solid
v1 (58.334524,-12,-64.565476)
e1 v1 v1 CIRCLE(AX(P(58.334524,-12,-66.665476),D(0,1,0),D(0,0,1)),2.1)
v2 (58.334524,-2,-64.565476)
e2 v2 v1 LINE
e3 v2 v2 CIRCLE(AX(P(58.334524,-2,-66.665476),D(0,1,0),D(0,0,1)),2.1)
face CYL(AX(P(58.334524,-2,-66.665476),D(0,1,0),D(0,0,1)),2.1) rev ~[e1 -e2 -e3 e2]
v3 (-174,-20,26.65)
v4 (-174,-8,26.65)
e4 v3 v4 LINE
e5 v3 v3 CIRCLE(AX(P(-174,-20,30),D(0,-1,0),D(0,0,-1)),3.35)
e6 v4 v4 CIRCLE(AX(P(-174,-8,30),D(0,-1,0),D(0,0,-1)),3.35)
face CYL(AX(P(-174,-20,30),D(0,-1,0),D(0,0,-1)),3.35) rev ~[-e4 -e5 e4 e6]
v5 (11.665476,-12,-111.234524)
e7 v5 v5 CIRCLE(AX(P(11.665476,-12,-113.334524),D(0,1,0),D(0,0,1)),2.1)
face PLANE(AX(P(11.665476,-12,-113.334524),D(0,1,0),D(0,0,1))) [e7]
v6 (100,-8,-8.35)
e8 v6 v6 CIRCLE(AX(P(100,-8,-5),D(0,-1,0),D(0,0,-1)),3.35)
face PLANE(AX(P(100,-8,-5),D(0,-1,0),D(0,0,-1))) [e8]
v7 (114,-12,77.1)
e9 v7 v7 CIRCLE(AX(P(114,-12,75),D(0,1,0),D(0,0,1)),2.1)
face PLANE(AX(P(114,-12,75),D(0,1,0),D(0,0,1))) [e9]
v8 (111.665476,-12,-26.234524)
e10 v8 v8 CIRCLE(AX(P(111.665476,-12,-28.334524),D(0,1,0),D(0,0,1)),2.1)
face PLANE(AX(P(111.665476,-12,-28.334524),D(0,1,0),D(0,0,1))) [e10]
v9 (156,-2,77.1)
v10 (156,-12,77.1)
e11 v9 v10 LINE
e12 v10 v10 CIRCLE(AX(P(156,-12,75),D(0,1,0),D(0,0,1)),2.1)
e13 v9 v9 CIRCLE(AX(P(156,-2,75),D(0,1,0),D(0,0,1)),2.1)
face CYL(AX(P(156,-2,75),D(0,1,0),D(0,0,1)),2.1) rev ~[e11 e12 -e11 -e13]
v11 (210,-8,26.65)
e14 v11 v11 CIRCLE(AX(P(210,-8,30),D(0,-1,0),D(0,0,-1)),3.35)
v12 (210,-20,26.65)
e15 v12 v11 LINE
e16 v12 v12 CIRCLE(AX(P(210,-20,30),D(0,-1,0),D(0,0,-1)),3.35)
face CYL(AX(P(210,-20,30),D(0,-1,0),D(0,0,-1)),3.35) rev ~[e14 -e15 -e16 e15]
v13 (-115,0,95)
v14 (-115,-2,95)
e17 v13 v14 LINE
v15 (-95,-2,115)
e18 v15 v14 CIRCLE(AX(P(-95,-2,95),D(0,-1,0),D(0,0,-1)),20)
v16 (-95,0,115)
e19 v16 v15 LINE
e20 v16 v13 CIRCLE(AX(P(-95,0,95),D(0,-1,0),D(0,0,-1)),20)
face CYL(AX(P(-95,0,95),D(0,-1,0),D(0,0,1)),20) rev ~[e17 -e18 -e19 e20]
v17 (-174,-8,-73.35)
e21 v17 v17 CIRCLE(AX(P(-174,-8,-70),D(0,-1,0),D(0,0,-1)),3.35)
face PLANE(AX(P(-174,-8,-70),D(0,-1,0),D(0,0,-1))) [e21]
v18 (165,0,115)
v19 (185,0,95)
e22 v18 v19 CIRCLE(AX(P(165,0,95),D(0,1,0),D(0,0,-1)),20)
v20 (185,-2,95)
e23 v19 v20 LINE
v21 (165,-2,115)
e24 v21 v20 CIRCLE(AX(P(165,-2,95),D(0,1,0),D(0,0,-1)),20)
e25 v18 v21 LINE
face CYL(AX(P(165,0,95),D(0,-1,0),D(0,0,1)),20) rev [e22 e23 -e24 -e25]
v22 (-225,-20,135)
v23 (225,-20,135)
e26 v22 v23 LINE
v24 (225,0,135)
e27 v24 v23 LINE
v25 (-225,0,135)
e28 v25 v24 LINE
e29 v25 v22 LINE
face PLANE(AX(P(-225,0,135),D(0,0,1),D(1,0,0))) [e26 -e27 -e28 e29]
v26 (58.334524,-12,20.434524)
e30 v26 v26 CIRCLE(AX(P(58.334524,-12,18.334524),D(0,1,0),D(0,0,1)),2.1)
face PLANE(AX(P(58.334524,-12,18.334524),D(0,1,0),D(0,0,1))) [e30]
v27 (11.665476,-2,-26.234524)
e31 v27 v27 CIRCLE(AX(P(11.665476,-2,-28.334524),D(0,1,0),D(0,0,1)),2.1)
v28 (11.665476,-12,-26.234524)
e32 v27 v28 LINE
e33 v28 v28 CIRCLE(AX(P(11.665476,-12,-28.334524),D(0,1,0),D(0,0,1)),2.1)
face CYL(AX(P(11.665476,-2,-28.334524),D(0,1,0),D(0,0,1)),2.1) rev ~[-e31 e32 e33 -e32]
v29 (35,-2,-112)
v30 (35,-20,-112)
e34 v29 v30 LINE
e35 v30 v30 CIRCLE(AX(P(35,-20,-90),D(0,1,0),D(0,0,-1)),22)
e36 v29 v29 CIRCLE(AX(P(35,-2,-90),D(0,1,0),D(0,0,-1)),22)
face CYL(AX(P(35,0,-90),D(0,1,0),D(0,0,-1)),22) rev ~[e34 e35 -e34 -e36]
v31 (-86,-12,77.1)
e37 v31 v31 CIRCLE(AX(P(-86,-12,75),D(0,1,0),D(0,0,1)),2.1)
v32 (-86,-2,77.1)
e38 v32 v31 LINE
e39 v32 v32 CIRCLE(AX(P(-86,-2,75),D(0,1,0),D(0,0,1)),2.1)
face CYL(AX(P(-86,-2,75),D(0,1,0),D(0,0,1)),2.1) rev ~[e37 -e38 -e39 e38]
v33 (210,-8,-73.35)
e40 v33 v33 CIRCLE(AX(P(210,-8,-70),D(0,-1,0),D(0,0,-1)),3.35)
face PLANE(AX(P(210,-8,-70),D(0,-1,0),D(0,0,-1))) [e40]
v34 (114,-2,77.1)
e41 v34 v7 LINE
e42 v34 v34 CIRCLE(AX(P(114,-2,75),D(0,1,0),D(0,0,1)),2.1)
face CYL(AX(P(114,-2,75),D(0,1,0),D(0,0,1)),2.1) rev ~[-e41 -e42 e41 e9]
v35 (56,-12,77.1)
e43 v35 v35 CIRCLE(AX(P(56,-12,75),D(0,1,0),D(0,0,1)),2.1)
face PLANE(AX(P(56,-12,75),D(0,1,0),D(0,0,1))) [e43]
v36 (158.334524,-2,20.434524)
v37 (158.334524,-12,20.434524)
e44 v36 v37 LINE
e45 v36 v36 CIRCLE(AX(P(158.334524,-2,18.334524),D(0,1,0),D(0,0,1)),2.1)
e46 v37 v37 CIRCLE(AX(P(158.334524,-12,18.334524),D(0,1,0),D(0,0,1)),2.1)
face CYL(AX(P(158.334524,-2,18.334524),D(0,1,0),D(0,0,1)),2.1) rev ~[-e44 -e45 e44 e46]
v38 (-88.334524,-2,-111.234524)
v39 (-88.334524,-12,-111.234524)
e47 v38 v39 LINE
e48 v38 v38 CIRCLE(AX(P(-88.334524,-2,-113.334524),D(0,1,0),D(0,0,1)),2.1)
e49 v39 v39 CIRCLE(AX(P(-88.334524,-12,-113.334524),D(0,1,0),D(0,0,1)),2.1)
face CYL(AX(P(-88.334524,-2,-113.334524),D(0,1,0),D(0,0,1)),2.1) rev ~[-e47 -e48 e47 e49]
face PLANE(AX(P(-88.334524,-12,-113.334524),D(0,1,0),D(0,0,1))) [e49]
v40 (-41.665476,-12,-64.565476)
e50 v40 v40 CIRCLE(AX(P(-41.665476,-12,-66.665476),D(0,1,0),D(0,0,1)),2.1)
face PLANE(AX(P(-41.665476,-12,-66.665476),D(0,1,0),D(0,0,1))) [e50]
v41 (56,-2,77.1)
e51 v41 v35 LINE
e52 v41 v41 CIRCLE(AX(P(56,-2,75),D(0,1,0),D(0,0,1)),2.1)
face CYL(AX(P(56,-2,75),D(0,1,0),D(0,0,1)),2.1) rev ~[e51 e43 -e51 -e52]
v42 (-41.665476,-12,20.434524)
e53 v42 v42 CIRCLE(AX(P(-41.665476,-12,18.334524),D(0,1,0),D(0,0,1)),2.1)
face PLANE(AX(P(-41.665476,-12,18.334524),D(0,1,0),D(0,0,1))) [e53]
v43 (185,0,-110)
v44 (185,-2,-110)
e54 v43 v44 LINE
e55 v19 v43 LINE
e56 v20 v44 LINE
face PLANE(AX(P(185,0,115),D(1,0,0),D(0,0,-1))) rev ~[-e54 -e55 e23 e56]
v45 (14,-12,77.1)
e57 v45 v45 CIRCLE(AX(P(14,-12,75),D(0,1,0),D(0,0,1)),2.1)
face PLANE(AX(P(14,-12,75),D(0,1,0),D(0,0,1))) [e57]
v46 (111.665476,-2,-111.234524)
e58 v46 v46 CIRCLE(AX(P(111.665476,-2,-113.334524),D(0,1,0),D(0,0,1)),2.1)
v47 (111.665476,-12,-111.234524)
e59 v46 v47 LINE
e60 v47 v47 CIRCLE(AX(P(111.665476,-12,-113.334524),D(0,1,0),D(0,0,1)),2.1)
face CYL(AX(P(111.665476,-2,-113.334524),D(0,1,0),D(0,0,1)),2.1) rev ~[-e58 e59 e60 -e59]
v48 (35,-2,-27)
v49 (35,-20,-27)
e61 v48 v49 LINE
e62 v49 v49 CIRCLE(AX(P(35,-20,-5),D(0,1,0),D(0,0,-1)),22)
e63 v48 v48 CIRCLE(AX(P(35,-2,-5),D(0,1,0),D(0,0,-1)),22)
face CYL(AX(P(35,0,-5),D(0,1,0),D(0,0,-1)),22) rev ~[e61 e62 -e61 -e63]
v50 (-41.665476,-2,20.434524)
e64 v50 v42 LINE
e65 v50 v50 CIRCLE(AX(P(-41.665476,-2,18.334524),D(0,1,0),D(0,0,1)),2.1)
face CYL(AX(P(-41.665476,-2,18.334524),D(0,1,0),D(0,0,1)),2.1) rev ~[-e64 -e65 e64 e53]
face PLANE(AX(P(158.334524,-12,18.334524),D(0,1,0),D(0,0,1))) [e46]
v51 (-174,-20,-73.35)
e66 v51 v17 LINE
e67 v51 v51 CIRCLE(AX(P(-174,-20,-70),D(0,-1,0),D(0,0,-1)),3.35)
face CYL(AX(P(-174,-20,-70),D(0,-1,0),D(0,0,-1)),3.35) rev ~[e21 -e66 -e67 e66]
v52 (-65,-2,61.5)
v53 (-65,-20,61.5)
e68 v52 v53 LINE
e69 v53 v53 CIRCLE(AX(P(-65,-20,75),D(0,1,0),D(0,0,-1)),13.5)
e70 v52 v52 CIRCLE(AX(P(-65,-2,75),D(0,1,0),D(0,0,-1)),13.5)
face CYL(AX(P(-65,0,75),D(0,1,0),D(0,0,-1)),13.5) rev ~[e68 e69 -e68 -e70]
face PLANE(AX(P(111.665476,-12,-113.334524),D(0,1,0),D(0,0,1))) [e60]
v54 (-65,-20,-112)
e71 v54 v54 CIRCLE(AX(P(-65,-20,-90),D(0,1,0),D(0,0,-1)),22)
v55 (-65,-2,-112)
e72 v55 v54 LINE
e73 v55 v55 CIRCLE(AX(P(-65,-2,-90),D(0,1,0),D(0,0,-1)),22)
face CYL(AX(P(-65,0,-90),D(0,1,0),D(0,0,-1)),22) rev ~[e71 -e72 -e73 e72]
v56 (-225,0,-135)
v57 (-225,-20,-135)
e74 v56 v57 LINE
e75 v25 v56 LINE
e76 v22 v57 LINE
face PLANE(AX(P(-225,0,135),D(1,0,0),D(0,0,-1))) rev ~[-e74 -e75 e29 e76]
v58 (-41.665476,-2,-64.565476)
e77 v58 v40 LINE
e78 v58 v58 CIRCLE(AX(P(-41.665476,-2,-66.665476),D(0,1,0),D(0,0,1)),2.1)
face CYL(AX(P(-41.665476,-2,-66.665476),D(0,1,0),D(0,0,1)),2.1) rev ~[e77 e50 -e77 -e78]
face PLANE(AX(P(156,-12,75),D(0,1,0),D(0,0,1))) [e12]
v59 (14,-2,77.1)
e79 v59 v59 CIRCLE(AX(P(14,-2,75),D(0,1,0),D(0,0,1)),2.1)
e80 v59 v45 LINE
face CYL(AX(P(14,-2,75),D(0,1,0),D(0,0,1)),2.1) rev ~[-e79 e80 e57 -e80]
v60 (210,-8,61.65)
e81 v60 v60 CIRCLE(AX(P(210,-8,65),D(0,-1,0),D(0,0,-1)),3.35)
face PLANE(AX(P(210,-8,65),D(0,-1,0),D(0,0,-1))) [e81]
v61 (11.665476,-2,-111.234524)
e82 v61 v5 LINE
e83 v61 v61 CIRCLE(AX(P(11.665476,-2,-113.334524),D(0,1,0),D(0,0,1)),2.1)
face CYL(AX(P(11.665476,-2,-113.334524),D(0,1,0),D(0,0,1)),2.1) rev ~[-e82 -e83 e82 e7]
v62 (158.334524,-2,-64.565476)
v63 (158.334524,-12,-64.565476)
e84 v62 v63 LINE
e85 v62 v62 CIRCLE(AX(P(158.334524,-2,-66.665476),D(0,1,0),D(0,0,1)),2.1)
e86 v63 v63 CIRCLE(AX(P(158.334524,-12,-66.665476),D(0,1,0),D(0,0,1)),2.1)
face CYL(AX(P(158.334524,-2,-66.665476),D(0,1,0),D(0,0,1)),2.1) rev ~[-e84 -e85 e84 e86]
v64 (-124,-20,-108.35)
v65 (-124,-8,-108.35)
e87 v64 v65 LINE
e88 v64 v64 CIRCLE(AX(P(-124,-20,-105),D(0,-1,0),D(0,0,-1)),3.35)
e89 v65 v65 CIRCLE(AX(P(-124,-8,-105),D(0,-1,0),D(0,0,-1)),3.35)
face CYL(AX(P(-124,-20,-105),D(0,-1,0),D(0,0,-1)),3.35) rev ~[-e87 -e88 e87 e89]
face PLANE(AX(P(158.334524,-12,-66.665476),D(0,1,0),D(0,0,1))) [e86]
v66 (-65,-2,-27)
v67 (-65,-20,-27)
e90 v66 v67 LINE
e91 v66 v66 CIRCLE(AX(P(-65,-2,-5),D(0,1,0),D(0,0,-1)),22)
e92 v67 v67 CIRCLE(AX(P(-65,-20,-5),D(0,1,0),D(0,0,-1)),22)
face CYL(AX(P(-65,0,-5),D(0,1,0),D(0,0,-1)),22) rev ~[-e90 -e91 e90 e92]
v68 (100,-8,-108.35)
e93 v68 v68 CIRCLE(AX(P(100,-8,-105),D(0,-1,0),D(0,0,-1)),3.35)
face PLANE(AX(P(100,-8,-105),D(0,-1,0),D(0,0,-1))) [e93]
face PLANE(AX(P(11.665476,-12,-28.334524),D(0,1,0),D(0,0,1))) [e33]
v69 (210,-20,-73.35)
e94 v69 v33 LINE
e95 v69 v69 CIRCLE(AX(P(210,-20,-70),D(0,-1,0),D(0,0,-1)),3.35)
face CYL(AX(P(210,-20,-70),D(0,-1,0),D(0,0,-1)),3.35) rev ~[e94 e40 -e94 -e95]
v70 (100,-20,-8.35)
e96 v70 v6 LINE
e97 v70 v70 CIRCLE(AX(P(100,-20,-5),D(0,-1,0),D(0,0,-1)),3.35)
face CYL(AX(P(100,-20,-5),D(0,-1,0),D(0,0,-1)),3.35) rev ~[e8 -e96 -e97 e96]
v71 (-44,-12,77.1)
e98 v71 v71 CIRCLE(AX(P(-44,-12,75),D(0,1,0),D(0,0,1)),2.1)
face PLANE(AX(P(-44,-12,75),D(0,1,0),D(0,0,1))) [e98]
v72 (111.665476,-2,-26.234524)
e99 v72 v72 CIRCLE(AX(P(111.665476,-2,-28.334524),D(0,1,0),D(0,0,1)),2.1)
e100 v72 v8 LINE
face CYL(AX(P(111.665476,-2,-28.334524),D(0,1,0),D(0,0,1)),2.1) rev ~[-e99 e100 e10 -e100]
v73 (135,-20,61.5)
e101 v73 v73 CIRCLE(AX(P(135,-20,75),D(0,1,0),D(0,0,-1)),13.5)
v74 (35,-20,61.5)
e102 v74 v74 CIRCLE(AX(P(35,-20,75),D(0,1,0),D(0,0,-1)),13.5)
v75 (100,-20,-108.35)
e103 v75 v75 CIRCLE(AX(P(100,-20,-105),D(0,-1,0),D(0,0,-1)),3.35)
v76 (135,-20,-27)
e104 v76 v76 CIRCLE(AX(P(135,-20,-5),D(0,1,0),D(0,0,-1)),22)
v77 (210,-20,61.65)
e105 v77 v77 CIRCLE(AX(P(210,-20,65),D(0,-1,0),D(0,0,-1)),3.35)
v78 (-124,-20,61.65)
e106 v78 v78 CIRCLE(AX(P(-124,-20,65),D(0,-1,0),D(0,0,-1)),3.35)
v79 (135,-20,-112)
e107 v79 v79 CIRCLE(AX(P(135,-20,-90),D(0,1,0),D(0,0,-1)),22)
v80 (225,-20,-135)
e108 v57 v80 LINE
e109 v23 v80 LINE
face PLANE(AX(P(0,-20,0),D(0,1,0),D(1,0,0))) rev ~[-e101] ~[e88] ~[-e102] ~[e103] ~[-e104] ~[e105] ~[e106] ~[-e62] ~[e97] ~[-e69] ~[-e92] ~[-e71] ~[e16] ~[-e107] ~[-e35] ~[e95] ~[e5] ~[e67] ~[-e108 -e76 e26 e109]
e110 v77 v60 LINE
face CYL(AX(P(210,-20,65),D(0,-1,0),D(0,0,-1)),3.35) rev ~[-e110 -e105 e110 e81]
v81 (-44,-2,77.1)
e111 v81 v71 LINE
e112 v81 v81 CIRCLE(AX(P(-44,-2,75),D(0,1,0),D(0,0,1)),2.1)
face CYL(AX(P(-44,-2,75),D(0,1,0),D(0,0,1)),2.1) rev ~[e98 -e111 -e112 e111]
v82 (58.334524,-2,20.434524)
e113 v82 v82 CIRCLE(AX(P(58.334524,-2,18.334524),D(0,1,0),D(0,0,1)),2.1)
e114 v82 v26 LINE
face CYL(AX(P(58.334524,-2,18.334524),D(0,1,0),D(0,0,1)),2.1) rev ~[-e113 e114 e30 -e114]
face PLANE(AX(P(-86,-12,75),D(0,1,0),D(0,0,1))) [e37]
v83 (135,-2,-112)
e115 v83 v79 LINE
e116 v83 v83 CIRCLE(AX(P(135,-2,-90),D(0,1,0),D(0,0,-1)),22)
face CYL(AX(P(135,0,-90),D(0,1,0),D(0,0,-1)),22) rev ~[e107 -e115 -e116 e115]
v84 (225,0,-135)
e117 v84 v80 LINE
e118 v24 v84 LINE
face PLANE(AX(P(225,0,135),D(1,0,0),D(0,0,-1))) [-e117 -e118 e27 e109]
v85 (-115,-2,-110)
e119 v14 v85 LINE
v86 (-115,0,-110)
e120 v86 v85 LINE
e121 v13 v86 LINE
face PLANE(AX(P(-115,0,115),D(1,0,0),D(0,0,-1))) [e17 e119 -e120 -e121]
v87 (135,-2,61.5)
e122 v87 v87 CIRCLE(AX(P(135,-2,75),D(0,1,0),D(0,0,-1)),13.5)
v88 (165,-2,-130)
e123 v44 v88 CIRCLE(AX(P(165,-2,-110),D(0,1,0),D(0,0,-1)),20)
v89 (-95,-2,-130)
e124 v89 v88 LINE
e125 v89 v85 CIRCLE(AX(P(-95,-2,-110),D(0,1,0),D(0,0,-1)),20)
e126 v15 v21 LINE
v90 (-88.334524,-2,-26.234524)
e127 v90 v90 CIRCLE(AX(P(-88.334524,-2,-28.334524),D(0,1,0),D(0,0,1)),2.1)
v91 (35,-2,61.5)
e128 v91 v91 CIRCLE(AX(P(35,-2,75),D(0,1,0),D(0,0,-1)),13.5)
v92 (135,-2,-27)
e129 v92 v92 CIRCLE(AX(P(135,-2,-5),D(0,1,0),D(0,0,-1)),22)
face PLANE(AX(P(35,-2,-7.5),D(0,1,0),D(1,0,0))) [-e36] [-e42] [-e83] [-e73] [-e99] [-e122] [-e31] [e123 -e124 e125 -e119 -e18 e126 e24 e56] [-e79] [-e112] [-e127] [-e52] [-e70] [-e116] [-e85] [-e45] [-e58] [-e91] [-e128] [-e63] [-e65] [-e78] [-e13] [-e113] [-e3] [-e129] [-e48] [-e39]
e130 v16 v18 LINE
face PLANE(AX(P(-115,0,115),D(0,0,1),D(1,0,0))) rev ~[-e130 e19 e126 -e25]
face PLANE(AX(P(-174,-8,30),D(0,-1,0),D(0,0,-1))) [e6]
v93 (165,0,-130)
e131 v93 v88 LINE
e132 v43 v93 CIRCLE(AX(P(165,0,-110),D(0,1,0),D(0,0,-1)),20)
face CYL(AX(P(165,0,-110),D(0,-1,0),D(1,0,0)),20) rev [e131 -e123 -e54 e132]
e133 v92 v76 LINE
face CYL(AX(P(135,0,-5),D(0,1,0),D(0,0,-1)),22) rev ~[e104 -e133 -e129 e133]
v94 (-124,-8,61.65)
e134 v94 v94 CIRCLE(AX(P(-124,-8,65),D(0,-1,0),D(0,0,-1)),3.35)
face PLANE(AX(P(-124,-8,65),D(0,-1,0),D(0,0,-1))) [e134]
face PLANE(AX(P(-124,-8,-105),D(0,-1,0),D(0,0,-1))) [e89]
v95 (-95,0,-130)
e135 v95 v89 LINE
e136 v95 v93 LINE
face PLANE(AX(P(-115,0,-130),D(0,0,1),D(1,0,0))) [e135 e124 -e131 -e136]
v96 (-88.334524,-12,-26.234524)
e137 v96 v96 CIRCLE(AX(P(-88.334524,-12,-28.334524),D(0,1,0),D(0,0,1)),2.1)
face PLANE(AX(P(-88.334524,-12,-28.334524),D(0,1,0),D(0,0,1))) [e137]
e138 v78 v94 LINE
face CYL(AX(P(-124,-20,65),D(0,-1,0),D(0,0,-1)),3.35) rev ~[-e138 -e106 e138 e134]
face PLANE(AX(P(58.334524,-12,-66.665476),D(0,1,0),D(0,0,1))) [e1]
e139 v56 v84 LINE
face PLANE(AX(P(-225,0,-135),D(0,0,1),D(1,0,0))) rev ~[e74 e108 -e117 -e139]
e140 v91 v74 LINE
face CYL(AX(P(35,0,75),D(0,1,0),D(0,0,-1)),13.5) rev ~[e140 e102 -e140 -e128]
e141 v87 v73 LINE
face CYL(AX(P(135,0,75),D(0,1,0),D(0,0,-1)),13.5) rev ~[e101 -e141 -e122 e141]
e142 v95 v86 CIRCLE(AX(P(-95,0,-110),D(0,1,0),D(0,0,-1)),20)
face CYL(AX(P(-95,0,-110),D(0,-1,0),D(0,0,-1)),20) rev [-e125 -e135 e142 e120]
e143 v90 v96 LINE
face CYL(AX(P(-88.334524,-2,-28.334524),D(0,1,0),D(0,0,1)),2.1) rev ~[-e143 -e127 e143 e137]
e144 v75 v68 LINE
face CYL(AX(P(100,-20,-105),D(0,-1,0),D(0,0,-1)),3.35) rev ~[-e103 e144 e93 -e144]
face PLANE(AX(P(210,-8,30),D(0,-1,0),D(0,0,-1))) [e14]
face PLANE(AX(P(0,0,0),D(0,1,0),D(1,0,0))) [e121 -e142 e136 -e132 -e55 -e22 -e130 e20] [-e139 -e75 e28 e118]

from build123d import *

# Parameters (mm, degrees)
SKETCH_1_W          = 450
SKETCH_1_H          = 270
EXTRUDE_1_DEPTH     = 20
SKETCH_1_3_W        = 300
SKETCH_1_3_H        = 245
CUT_EXTRUDE_1_DEPTH = 2
CUT_EXTRUDE_2_REACH = 265.154
SKETCH_1_4_R        = 22
SKETCH_1_4_R_2      = 13.5
FILLET_1_R          = 20
SKETCH_3_R          = 2.1
CUT_EXTRUDE_3_DEPTH = 10
SKETCH_4_R          = 3.35
CUT_EXTRUDE_4_DEPTH = 12


with BuildPart() as part:
    # 草图1 → 凸台-拉伸1 (new body)
    with BuildSketch(Plane(origin=(0, 0, 0), x_dir=(1, 0, 0), z_dir=(0, 1, 0))):
        Rectangle(SKETCH_1_W, SKETCH_1_H)
    extrude(amount=-EXTRUDE_1_DEPTH)

    # 草图1<3> → 切除-拉伸1 (cut)
    with BuildSketch(Plane(origin=(0, 0, 0), x_dir=(1, 0, 0), z_dir=(0, 1, 0))):
        with Locations((35, 7.5)):
            Rectangle(SKETCH_1_3_W, SKETCH_1_3_H)
    extrude(amount=-CUT_EXTRUDE_1_DEPTH, mode=Mode.SUBTRACT)

    # 草图1<4> → 切除-拉伸2 (cut, up to next)
    with BuildSketch(Plane(origin=(0, 0, 0), x_dir=(1, 0, 0), z_dir=(0, 1, 0)), mode=Mode.PRIVATE) as cut_extrude_2_sk1:
        with Locations((-65, 90)):
            Circle(SKETCH_1_4_R)
    cut_extrude_2_tool1 = extrude(cut_extrude_2_sk1.sketch, amount=-CUT_EXTRUDE_2_REACH, mode=Mode.PRIVATE) & part.part
    # 草图1<4> → 切除-拉伸2 (cut, up to next)
    with BuildSketch(Plane(origin=(0, 0, 0), x_dir=(1, 0, 0), z_dir=(0, 1, 0)), mode=Mode.PRIVATE) as cut_extrude_2_sk2:
        with Locations((35, 90)):
            Circle(SKETCH_1_4_R)
    cut_extrude_2_tool2 = extrude(cut_extrude_2_sk2.sketch, amount=-CUT_EXTRUDE_2_REACH, mode=Mode.PRIVATE) & part.part
    # 草图1<4> → 切除-拉伸2 (cut, up to next)
    with BuildSketch(Plane(origin=(0, 0, 0), x_dir=(1, 0, 0), z_dir=(0, 1, 0)), mode=Mode.PRIVATE) as cut_extrude_2_sk3:
        with Locations((135, 90)):
            Circle(SKETCH_1_4_R)
    cut_extrude_2_tool3 = extrude(cut_extrude_2_sk3.sketch, amount=-CUT_EXTRUDE_2_REACH, mode=Mode.PRIVATE) & part.part
    # 草图1<4> → 切除-拉伸2 (cut, up to next)
    with BuildSketch(Plane(origin=(0, 0, 0), x_dir=(1, 0, 0), z_dir=(0, 1, 0)), mode=Mode.PRIVATE) as cut_extrude_2_sk4:
        with Locations((135, 5)):
            Circle(SKETCH_1_4_R)
    cut_extrude_2_tool4 = extrude(cut_extrude_2_sk4.sketch, amount=-CUT_EXTRUDE_2_REACH, mode=Mode.PRIVATE) & part.part
    # 草图1<4> → 切除-拉伸2 (cut, up to next)
    with BuildSketch(Plane(origin=(0, 0, 0), x_dir=(1, 0, 0), z_dir=(0, 1, 0)), mode=Mode.PRIVATE) as cut_extrude_2_sk5:
        with Locations((35, 5)):
            Circle(SKETCH_1_4_R)
    cut_extrude_2_tool5 = extrude(cut_extrude_2_sk5.sketch, amount=-CUT_EXTRUDE_2_REACH, mode=Mode.PRIVATE) & part.part
    # 草图1<4> → 切除-拉伸2 (cut, up to next)
    with BuildSketch(Plane(origin=(0, 0, 0), x_dir=(1, 0, 0), z_dir=(0, 1, 0)), mode=Mode.PRIVATE) as cut_extrude_2_sk6:
        with Locations((-65, 5)):
            Circle(SKETCH_1_4_R)
    cut_extrude_2_tool6 = extrude(cut_extrude_2_sk6.sketch, amount=-CUT_EXTRUDE_2_REACH, mode=Mode.PRIVATE) & part.part
    # 草图1<4> → 切除-拉伸2 (cut, up to next)
    with BuildSketch(Plane(origin=(0, 0, 0), x_dir=(1, 0, 0), z_dir=(0, 1, 0)), mode=Mode.PRIVATE) as cut_extrude_2_sk7:
        with Locations((-65, -75)):
            Circle(SKETCH_1_4_R_2)
    cut_extrude_2_tool7 = extrude(cut_extrude_2_sk7.sketch, amount=-CUT_EXTRUDE_2_REACH, mode=Mode.PRIVATE) & part.part
    # 草图1<4> → 切除-拉伸2 (cut, up to next)
    with BuildSketch(Plane(origin=(0, 0, 0), x_dir=(1, 0, 0), z_dir=(0, 1, 0)), mode=Mode.PRIVATE) as cut_extrude_2_sk8:
        with Locations((35, -75)):
            Circle(SKETCH_1_4_R_2)
    cut_extrude_2_tool8 = extrude(cut_extrude_2_sk8.sketch, amount=-CUT_EXTRUDE_2_REACH, mode=Mode.PRIVATE) & part.part
    # 草图1<4> → 切除-拉伸2 (cut, up to next)
    with BuildSketch(Plane(origin=(0, 0, 0), x_dir=(1, 0, 0), z_dir=(0, 1, 0)), mode=Mode.PRIVATE) as cut_extrude_2_sk9:
        with Locations((135, -75)):
            Circle(SKETCH_1_4_R_2)
    cut_extrude_2_tool9 = extrude(cut_extrude_2_sk9.sketch, amount=-CUT_EXTRUDE_2_REACH, mode=Mode.PRIVATE) & part.part
    add(cut_extrude_2_tool1.solids().sort_by_distance((-65, 0, -90))[0], mode=Mode.SUBTRACT)
    add(cut_extrude_2_tool2.solids().sort_by_distance((35, 0, -90))[0], mode=Mode.SUBTRACT)
    add(cut_extrude_2_tool3.solids().sort_by_distance((135, 0, -90))[0], mode=Mode.SUBTRACT)
    add(cut_extrude_2_tool4.solids().sort_by_distance((135, 0, -5))[0], mode=Mode.SUBTRACT)
    add(cut_extrude_2_tool5.solids().sort_by_distance((35, 0, -5))[0], mode=Mode.SUBTRACT)
    add(cut_extrude_2_tool6.solids().sort_by_distance((-65, 0, -5))[0], mode=Mode.SUBTRACT)
    add(cut_extrude_2_tool7.solids().sort_by_distance((-65, 0, 75))[0], mode=Mode.SUBTRACT)
    add(cut_extrude_2_tool8.solids().sort_by_distance((35, 0, 75))[0], mode=Mode.SUBTRACT)
    add(cut_extrude_2_tool9.solids().sort_by_distance((135, 0, 75))[0], mode=Mode.SUBTRACT)

    # 圆角1
    fillet_1_edges = [part.edges().sort_by_distance(p)[0] for p in [
        (-115, -1, 115),
        (185, -1, 115),
        (185, -1, -130),
        (-115, -1, -130),
    ]]
    fillet(fillet_1_edges, radius=FILLET_1_R)

    # 草图3 → 切除-拉伸3 (cut)
    with BuildSketch(Plane(origin=(0, -2, 0), x_dir=(1, 0, 0), z_dir=(0, 1, 0))):
        with Locations((-41.665476221, 66.665476221)):
            Circle(SKETCH_3_R)
        with Locations((-88.334523779, 113.334523779)):
            Circle(SKETCH_3_R)
        with Locations((58.334523779, 66.665476221)):
            Circle(SKETCH_3_R)
        with Locations((11.665476221, 113.334523779)):
            Circle(SKETCH_3_R)
        with Locations((158.334523779, 66.665476221)):
            Circle(SKETCH_3_R)
        with Locations((111.665476221, 113.334523779)):
            Circle(SKETCH_3_R)
        with Locations((58.334523779, -18.334523779)):
            Circle(SKETCH_3_R)
        with Locations((11.665476221, 28.334523779)):
            Circle(SKETCH_3_R)
        with Locations((158.334523779, -18.334523779)):
            Circle(SKETCH_3_R)
        with Locations((111.665476221, 28.334523779)):
            Circle(SKETCH_3_R)
        with Locations((-41.665476221, -18.334523779)):
            Circle(SKETCH_3_R)
        with Locations((-88.334523779, 28.334523779)):
            Circle(SKETCH_3_R)
        with Locations((-86, -75)):
            Circle(SKETCH_3_R)
        with Locations((-44, -75)):
            Circle(SKETCH_3_R)
        with Locations((14, -75)):
            Circle(SKETCH_3_R)
        with Locations((56, -75)):
            Circle(SKETCH_3_R)
        with Locations((114, -75)):
            Circle(SKETCH_3_R)
        with Locations((156, -75)):
            Circle(SKETCH_3_R)
    extrude(amount=-CUT_EXTRUDE_3_DEPTH, mode=Mode.SUBTRACT)

    # 草图4 → 切除-拉伸4 (cut)
    with BuildSketch(Plane.XZ.offset(20)):
        with Locations((-124, 65)):
            Circle(SKETCH_4_R)
        with Locations((210, 65)):
            Circle(SKETCH_4_R)
        with Locations((210, 30)):
            Circle(SKETCH_4_R)
        with Locations((210, -70)):
            Circle(SKETCH_4_R)
        with Locations((-174, -70)):
            Circle(SKETCH_4_R)
        with Locations((-174, 30)):
            Circle(SKETCH_4_R)
        with Locations((-124, -105)):
            Circle(SKETCH_4_R)
        with Locations((100, -105)):
            Circle(SKETCH_4_R)
        with Locations((100, -5)):
            Circle(SKETCH_4_R)
    extrude(amount=-CUT_EXTRUDE_4_DEPTH, mode=Mode.SUBTRACT)


solid = part.part
